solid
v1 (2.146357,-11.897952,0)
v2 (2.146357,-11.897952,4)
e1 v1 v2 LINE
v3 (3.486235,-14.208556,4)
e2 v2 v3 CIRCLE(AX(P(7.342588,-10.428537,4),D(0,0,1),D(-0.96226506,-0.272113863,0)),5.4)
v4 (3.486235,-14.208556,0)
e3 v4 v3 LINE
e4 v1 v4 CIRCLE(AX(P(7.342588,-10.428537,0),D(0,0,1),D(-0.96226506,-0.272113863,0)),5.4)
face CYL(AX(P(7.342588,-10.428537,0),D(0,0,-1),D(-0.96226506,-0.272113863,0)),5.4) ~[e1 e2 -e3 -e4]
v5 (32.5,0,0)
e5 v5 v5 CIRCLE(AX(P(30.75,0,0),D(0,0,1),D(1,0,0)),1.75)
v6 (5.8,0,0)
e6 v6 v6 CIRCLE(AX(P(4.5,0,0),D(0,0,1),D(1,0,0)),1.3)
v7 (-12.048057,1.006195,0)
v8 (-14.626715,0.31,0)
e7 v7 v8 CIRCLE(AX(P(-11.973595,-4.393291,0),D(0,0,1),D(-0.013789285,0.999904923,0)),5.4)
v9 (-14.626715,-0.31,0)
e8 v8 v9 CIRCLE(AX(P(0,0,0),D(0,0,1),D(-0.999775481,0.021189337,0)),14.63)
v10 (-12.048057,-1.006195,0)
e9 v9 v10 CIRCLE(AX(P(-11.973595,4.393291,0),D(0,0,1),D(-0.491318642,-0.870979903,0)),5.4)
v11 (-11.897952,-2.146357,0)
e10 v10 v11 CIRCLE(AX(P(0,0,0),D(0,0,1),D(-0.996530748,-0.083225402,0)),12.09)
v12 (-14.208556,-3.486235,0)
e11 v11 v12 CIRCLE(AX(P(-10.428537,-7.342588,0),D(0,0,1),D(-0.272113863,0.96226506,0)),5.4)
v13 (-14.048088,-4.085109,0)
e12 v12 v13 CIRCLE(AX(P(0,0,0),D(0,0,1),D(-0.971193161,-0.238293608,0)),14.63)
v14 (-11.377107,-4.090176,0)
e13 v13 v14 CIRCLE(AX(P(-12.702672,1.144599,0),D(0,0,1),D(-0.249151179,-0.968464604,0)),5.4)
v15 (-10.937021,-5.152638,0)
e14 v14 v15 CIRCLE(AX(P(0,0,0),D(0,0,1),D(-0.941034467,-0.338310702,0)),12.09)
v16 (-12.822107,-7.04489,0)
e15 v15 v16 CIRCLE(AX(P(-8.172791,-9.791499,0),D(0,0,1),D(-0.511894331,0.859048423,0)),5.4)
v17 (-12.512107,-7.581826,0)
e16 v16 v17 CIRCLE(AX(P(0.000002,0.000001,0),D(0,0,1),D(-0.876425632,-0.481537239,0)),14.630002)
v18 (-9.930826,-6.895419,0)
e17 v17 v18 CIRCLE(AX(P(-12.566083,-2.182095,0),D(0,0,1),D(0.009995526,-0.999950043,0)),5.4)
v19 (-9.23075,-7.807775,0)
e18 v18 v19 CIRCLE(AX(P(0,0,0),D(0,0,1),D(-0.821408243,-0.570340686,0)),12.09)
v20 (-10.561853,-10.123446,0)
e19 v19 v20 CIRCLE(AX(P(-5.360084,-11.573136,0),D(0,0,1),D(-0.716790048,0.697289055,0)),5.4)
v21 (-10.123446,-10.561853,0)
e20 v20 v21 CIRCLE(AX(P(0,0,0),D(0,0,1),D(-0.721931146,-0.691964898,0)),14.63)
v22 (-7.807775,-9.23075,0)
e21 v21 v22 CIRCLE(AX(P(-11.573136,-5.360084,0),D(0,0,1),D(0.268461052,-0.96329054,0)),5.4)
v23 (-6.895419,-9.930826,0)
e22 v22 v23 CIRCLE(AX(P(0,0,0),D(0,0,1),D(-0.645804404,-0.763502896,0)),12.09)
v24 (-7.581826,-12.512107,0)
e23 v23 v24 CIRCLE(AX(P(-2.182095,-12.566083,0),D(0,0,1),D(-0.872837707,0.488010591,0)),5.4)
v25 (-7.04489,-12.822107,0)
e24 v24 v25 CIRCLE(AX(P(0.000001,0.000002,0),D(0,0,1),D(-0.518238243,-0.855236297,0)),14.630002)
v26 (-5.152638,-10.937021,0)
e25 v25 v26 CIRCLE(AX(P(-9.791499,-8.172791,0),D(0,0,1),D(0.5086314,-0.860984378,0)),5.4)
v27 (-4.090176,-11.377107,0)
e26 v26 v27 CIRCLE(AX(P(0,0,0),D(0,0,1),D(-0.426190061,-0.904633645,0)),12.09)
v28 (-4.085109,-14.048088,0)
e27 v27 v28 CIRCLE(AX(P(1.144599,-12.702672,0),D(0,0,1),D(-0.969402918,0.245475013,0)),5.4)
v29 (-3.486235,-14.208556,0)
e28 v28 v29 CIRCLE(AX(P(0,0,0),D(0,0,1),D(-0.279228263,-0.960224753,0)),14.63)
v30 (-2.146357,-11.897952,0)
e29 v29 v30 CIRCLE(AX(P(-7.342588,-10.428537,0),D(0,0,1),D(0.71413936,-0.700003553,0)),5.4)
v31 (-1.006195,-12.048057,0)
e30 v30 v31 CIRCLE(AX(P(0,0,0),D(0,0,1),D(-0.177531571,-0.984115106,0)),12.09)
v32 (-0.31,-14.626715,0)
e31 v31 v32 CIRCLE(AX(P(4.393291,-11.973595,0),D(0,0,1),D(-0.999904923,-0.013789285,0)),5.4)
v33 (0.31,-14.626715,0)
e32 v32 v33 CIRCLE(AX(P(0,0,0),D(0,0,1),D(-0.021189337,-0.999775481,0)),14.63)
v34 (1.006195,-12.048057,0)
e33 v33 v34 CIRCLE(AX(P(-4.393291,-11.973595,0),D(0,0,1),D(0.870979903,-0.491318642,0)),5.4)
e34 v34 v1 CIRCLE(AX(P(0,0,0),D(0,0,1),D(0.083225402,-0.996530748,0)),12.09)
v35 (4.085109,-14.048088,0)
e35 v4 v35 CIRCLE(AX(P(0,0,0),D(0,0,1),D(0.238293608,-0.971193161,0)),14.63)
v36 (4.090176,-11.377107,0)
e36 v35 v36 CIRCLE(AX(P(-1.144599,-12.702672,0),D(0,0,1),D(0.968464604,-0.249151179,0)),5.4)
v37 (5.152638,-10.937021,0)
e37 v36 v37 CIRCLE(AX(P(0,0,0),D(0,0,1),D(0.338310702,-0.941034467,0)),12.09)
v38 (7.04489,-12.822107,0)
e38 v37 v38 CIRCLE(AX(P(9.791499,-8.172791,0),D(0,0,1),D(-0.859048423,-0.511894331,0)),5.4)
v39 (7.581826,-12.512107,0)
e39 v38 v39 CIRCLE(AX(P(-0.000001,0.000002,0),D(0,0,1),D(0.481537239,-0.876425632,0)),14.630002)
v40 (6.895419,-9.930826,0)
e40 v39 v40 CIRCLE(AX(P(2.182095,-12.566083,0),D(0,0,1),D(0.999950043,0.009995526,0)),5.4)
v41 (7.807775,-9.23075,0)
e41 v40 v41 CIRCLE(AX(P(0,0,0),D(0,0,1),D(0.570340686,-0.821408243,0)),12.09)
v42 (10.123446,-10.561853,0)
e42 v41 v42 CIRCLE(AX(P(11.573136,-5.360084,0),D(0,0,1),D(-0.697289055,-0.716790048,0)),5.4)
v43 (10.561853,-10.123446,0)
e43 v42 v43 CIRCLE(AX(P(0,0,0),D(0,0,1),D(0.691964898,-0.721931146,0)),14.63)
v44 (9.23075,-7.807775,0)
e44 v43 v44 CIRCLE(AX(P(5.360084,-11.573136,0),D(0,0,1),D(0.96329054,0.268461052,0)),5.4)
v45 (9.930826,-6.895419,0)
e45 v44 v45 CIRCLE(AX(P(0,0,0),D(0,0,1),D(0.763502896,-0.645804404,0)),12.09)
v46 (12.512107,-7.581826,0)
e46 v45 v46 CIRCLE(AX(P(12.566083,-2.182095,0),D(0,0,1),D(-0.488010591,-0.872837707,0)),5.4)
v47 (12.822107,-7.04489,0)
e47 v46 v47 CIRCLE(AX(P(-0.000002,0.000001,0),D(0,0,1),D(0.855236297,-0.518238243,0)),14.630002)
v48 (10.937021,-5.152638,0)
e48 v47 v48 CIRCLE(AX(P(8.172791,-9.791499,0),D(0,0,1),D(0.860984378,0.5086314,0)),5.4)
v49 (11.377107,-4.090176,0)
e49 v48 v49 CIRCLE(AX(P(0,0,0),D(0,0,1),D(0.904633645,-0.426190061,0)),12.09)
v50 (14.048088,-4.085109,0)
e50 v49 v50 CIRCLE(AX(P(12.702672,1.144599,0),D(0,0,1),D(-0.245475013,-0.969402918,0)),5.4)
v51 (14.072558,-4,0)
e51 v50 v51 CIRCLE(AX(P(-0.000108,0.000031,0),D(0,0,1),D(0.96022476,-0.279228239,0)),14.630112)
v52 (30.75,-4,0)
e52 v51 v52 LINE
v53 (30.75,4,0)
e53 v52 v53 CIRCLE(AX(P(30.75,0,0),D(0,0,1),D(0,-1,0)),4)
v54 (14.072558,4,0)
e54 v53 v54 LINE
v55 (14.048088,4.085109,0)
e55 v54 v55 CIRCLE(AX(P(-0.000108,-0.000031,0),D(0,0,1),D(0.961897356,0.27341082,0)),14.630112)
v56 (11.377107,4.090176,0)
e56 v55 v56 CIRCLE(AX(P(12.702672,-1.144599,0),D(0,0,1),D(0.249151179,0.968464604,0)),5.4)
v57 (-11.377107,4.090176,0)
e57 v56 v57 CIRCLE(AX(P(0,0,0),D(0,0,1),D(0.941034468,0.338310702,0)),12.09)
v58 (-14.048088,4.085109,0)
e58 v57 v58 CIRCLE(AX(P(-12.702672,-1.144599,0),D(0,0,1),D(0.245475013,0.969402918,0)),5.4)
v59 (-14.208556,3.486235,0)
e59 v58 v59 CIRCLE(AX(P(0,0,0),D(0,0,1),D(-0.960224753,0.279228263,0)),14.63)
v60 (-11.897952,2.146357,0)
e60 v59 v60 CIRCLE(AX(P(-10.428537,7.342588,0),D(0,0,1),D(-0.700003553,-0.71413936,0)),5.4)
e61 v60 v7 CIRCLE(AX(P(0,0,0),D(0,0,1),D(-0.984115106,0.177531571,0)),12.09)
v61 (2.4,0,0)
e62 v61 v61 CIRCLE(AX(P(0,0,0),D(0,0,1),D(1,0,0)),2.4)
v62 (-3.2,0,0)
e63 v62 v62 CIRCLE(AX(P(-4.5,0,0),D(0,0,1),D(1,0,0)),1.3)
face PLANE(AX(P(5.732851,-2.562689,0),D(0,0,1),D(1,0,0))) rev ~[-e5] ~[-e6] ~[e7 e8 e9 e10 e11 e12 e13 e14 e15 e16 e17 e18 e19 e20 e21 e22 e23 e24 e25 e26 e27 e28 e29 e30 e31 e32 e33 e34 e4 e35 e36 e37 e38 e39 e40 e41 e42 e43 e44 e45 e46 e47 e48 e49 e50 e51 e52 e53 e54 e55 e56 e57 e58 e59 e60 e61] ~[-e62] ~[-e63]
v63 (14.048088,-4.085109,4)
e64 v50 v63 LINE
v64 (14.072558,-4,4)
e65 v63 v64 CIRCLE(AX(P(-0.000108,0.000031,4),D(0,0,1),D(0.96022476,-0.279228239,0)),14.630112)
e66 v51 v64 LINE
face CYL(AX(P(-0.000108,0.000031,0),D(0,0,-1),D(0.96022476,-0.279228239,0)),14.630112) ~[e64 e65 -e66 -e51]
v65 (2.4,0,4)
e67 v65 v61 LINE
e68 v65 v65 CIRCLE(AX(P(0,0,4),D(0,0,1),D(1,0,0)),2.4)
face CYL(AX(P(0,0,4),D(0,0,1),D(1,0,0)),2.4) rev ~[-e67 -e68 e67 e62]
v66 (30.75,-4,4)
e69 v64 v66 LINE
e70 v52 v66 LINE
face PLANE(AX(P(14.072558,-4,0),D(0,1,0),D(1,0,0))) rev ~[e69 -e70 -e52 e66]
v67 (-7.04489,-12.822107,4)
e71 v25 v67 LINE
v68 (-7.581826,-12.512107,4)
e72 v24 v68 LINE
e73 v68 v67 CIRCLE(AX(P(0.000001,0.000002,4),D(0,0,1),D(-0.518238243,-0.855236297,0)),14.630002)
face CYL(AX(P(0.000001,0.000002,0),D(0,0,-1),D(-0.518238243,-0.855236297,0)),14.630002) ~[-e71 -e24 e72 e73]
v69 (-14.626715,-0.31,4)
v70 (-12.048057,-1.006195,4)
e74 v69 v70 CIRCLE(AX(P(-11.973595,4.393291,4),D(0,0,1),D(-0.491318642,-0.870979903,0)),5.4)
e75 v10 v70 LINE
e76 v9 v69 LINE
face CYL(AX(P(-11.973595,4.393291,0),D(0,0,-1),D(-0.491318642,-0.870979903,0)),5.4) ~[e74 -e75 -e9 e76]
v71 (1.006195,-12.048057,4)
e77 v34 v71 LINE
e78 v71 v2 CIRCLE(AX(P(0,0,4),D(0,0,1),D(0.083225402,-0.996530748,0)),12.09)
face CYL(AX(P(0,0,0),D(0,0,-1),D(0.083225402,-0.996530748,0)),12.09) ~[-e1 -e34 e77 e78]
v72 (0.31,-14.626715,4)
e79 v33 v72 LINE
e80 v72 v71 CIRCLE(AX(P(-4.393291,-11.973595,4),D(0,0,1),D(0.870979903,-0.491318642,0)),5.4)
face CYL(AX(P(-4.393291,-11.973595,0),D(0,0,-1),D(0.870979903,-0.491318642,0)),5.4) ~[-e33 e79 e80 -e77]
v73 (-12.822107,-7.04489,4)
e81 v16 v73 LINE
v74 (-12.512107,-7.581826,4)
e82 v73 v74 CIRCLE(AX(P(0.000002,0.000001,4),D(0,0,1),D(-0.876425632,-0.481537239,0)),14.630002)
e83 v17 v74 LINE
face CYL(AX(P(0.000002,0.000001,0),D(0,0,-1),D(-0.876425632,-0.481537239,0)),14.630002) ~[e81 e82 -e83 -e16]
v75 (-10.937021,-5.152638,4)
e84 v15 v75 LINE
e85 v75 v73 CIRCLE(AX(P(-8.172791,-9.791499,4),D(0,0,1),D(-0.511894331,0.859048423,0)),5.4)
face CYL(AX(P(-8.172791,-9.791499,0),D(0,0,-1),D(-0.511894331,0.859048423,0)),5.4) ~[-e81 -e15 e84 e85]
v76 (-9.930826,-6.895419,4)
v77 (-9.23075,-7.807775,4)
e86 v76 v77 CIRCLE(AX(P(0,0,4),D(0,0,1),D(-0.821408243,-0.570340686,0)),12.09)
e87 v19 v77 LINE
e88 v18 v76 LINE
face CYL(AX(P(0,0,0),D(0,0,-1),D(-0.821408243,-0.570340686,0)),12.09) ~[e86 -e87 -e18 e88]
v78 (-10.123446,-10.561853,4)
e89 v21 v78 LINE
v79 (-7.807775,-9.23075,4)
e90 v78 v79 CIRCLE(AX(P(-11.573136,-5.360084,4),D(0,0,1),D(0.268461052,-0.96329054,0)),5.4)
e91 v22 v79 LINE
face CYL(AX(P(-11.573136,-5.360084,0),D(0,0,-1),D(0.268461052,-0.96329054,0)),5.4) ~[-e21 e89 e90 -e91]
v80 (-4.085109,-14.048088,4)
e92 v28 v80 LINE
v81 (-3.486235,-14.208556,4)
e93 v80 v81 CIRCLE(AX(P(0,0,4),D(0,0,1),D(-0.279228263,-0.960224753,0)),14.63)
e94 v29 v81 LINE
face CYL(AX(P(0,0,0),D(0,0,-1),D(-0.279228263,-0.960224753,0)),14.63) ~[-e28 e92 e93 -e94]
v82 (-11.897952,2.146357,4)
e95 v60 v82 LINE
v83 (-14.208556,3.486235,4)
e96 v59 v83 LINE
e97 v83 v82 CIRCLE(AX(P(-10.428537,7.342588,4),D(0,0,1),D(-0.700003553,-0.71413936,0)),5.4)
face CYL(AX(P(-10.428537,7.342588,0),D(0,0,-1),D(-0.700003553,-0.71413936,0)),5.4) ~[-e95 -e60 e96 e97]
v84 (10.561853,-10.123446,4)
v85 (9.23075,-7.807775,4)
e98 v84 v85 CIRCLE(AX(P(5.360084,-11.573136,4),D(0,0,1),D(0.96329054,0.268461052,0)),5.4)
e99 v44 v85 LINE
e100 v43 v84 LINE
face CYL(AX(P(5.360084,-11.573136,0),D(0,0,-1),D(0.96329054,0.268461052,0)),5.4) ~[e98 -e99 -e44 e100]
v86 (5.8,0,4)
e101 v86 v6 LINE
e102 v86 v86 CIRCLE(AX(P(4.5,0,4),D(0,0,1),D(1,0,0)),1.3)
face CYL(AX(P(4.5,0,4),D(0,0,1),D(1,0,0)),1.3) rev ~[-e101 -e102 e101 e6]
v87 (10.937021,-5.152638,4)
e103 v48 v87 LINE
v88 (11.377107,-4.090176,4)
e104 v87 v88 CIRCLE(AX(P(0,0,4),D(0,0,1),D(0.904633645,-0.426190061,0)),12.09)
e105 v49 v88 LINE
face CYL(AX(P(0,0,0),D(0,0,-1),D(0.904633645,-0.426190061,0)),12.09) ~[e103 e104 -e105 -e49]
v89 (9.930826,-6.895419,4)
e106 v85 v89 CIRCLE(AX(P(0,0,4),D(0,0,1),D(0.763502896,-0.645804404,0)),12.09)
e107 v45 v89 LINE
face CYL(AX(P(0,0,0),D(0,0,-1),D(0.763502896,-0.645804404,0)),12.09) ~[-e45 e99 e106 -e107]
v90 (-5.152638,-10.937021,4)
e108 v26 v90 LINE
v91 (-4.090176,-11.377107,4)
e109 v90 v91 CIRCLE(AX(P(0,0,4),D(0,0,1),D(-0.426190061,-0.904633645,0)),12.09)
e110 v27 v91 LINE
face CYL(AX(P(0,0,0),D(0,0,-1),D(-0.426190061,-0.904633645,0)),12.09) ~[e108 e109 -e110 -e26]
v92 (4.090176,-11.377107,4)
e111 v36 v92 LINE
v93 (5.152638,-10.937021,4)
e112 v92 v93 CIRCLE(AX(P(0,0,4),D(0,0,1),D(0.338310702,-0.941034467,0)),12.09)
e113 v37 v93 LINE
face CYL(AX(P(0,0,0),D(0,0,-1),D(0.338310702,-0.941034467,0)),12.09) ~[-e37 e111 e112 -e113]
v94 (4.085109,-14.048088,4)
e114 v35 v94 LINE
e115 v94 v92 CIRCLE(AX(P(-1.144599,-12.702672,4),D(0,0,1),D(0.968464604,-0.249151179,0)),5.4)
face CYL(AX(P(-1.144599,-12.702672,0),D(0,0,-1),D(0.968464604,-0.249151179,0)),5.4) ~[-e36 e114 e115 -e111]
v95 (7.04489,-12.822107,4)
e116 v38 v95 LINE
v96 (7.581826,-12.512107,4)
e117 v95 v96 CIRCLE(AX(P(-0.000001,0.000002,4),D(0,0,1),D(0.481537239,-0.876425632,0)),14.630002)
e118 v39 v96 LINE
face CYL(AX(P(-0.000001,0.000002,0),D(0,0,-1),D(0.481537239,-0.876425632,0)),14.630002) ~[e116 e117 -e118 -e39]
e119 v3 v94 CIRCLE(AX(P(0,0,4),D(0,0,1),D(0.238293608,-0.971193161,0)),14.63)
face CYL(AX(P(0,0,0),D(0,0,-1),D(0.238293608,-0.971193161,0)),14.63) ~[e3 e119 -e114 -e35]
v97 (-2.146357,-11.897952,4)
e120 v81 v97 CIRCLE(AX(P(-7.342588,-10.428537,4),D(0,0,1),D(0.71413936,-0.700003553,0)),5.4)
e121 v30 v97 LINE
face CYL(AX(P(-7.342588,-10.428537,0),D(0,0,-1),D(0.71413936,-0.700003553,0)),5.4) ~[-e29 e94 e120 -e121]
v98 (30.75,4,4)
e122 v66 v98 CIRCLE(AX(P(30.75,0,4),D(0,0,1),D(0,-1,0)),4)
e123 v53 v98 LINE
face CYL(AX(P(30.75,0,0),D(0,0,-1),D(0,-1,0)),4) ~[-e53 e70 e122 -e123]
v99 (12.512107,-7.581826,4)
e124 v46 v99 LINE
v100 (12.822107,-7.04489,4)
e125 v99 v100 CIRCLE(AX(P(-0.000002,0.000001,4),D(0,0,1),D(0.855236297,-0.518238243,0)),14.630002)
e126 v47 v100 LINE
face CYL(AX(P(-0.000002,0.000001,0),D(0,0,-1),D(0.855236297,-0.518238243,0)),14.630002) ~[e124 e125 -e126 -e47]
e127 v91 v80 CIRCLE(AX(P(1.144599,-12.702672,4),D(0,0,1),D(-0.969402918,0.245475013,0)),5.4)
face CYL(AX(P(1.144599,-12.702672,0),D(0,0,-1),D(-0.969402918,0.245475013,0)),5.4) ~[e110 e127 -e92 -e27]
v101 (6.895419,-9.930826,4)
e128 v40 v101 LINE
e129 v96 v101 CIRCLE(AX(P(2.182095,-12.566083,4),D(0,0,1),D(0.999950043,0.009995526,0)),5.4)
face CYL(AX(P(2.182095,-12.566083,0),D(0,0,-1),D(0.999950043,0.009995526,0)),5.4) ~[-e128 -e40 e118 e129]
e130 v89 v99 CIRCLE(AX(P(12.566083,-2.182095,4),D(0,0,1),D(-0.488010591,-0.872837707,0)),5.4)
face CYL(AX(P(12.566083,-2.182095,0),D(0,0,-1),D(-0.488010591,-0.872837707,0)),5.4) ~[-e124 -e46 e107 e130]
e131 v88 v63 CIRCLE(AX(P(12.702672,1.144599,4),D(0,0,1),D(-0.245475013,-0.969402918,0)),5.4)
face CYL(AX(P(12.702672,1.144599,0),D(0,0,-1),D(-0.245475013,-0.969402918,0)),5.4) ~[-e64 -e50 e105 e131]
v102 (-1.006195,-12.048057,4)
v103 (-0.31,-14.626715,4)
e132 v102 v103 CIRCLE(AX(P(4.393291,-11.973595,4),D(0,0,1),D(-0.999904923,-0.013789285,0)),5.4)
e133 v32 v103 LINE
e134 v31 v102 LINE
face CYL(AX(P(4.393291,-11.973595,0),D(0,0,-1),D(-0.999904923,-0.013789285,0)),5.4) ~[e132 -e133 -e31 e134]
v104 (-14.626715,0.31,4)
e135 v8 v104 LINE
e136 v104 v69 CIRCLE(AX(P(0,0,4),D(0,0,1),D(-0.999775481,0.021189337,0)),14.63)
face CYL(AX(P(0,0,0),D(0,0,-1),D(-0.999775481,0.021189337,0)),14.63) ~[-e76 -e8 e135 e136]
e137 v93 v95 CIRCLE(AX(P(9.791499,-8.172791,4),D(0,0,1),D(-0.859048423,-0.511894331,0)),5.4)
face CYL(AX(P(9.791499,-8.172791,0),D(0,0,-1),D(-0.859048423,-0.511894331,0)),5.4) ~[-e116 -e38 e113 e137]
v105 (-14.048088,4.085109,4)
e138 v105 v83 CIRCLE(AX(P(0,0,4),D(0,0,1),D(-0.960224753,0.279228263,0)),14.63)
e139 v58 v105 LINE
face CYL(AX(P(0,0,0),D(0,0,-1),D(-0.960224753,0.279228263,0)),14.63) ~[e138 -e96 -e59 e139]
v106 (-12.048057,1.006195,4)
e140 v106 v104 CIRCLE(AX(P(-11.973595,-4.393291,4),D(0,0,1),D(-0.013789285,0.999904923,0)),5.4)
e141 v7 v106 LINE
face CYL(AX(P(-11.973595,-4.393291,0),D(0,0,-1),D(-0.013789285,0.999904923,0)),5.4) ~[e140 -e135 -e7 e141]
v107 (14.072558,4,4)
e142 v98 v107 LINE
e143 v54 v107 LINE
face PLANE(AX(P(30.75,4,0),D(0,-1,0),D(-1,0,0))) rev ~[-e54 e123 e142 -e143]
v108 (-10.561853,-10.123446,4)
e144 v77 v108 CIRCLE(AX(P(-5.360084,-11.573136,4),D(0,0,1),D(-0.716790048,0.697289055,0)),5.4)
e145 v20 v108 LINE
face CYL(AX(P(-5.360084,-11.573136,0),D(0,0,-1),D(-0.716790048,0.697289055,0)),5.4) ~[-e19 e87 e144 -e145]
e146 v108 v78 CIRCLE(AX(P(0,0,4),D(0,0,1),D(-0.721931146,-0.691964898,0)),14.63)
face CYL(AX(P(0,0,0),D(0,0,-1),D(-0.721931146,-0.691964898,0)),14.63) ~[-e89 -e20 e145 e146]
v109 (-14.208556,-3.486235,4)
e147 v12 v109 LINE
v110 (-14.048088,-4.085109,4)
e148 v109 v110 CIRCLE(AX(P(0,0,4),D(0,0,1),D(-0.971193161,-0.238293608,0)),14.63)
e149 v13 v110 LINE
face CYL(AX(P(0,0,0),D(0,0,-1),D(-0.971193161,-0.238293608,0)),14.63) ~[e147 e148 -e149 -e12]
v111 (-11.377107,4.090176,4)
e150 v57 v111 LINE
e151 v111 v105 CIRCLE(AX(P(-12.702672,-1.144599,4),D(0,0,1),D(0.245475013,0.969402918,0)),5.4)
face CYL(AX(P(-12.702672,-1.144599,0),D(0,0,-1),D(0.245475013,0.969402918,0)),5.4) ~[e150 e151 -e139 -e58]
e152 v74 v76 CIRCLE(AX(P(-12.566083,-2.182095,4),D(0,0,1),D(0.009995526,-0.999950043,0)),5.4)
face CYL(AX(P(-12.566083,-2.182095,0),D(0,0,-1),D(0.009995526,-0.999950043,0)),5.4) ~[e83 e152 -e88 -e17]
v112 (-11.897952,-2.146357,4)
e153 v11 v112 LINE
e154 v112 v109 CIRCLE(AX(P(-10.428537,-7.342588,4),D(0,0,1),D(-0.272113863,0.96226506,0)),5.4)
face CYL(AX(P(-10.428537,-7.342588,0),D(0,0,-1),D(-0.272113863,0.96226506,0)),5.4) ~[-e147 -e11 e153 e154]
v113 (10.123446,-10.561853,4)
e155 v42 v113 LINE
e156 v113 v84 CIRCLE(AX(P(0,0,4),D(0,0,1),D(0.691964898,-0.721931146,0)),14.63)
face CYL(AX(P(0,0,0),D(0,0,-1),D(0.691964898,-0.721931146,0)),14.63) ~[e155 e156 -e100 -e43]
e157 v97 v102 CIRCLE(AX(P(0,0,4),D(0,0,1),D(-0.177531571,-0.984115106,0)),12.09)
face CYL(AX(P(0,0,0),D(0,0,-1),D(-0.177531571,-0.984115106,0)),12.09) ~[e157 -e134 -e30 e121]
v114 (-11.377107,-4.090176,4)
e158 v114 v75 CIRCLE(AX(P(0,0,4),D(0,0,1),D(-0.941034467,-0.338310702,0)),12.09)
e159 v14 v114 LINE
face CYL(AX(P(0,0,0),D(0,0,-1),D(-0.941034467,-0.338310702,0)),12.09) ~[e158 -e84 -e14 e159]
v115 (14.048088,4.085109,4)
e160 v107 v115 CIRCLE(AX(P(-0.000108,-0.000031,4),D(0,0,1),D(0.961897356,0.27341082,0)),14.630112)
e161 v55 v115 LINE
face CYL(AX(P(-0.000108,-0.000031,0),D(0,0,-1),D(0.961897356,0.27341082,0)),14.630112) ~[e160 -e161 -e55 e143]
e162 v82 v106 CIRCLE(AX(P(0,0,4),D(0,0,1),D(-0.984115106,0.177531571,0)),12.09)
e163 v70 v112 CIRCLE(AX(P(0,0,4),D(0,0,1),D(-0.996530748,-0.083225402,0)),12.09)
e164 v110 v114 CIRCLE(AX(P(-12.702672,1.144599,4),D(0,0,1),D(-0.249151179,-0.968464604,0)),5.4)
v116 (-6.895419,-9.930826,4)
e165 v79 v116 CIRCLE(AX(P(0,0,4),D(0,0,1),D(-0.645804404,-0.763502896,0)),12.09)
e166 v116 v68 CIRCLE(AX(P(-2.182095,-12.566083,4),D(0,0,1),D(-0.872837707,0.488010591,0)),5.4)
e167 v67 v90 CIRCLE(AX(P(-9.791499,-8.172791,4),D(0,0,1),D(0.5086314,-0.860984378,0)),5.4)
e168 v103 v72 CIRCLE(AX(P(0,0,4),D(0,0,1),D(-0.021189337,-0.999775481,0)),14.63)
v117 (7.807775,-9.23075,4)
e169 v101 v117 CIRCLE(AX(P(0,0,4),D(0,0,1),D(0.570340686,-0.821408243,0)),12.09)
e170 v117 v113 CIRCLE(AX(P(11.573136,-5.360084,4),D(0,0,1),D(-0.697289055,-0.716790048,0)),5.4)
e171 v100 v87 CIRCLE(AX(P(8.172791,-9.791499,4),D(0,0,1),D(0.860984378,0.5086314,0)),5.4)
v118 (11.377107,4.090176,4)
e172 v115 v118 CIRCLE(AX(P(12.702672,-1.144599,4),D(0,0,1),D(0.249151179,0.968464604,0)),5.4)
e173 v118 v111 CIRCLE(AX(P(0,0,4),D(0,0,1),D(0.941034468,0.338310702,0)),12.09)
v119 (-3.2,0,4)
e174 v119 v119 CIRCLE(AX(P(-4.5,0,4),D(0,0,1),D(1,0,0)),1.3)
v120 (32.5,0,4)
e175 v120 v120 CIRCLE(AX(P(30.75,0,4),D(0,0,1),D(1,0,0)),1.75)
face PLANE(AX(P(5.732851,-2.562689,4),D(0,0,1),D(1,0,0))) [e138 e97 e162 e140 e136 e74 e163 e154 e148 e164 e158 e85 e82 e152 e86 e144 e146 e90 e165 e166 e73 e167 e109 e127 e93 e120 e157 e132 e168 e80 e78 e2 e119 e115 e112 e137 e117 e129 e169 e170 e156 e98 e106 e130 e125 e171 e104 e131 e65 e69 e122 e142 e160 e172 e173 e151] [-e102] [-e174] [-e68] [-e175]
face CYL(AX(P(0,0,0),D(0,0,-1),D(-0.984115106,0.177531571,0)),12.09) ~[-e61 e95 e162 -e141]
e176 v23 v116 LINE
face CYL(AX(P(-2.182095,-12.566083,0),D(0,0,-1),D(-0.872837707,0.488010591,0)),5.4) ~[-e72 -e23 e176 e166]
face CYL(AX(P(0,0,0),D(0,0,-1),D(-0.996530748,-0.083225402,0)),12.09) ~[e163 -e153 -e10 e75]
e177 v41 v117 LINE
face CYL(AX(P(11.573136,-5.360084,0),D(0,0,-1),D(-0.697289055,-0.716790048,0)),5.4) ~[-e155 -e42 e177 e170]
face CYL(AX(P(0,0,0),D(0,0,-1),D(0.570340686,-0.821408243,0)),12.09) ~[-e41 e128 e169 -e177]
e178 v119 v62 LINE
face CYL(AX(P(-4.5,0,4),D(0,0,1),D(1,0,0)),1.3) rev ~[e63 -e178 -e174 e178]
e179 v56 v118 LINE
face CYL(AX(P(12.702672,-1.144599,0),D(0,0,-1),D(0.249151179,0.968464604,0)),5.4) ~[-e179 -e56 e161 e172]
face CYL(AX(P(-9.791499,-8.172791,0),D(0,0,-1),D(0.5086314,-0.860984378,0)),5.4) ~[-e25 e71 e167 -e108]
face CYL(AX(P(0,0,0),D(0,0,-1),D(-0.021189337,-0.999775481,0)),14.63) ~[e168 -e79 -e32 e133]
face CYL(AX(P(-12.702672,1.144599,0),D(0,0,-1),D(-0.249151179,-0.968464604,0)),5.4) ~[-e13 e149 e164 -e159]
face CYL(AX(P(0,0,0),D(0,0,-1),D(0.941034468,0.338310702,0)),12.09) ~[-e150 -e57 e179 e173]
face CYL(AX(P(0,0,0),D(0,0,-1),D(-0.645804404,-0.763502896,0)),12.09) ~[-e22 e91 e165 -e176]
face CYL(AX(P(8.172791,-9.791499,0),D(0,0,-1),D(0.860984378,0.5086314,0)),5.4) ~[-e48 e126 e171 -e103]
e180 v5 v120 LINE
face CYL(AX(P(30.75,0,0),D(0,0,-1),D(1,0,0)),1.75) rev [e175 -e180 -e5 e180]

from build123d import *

# Parameters (mm, degrees)
SKETCH1_R           = 1.75
BOSS_EXTRUDE1_DEPTH = 4
SKETCH6_R           = 1.3
SKETCH6_R_2         = 2.4
CUT_EXTRUDE1_DEPTH  = 38.915688046


with BuildPart() as part:
    # Sketch1 → Boss-Extrude1 (new body)
    with BuildSketch(Plane.XY):
        with BuildLine():
            ThreePointArc((14.048088143, -4.085109489), (14.06038767, -4.04257326), (14.072558403, -4))
            Line((14.072558403, -4), (30.75, -4))
            ThreePointArc((30.75, -4), (34.75, 0), (30.75, 4))
            Line((30.75, 4), (14.072558403, 4))
            ThreePointArc((14.072558403, 4), (14.06038767, 4.04257326), (14.048088143, 4.085109489))
            ThreePointArc((14.048088143, 4.085109489), (12.712915648, 4.255390909), (11.377106712, 4.090176385))
            ThreePointArc((11.377106712, 4.090176385), (0, 12.09), (-11.377106712, 4.090176385))
            ThreePointArc((-11.377106712, 4.090176385), (-12.712915648, 4.255390909), (-14.048088143, 4.085109489))
            ThreePointArc((-14.048088143, 4.085109489), (-14.131494839, 3.78652263), (-14.208555951, 3.486235477))
            ThreePointArc((-14.208555951, 3.486235477), (-13.137403362, 2.671181194), (-11.897951627, 2.1463567))
            ThreePointArc((-11.897951627, 2.1463567), (-11.986568374, 1.578061664), (-12.048056748, 1.00619511))
            ThreePointArc((-12.048056748, 1.00619511), (-13.381109763, 0.820047291), (-14.626715284, 0.31))
            ThreePointArc((-14.626715284, 0.31), (-14.63, 0), (-14.626715284, -0.31))
            ThreePointArc((-14.626715284, -0.31), (-13.381109763, -0.820047291), (-12.048056748, -1.00619511))
            ThreePointArc((-12.048056748, -1.00619511), (-11.986568374, -1.578061664), (-11.897951627, -2.1463567))
            ThreePointArc((-11.897951627, -2.1463567), (-13.137403362, -2.671181194), (-14.208555951, -3.486235477))
            ThreePointArc((-14.208555951, -3.486235477), (-14.131494839, -3.78652263), (-14.048088143, -4.085109489))
            ThreePointArc((-14.048088143, -4.085109489), (-12.712915648, -4.255390909), (-11.377106712, -4.090176385))
            ThreePointArc((-11.377106712, -4.090176385), (-11.169703548, -4.626642697), (-10.937020765, -5.152637848))
            ThreePointArc((-10.937020765, -5.152637848), (-11.998404632, -5.980373095), (-12.82210701, -7.044889767))
            ThreePointArc((-12.82210701, -7.044889767), (-12.669951657, -7.315), (-12.51210701, -7.581825517))
            ThreePointArc((-12.51210701, -7.581825517), (-11.17835734, -7.400736668), (-9.930825655, -6.8954189))
            ThreePointArc((-9.930825655, -6.8954189), (-9.591641884, -7.359925677), (-9.230750012, -7.807775241))
            ThreePointArc((-9.230750012, -7.807775241), (-10.041734454, -8.882012453), (-10.561852666, -10.123446462))
            ThreePointArc((-10.561852666, -10.123446462), (-10.344972209, -10.344972209), (-10.123446462, -10.561852666))
            ThreePointArc((-10.123446462, -10.561852666), (-8.882012453, -10.041734454), (-7.807775241, -9.230750012))
            ThreePointArc((-7.807775241, -9.230750012), (-7.359925677, -9.591641884), (-6.8954189, -9.930825655))
            ThreePointArc((-6.8954189, -9.930825655), (-7.400736668, -11.17835734), (-7.581825517, -12.51210701))
            ThreePointArc((-7.581825517, -12.51210701), (-7.315, -12.669951657), (-7.044889767, -12.82210701))
            ThreePointArc((-7.044889767, -12.82210701), (-5.980373095, -11.998404632), (-5.152637848, -10.937020765))
            ThreePointArc((-5.152637848, -10.937020765), (-4.626642697, -11.169703548), (-4.090176385, -11.377106712))
            ThreePointArc((-4.090176385, -11.377106712), (-4.255390909, -12.712915648), (-4.085109489, -14.048088143))
            ThreePointArc((-4.085109489, -14.048088143), (-3.78652263, -14.131494839), (-3.486235477, -14.208555951))
            ThreePointArc((-3.486235477, -14.208555951), (-2.671181194, -13.137403362), (-2.1463567, -11.897951627))
            ThreePointArc((-2.1463567, -11.897951627), (-1.578061664, -11.986568374), (-1.00619511, -12.048056748))
            ThreePointArc((-1.00619511, -12.048056748), (-0.820047291, -13.381109763), (-0.31, -14.626715284))
            ThreePointArc((-0.31, -14.626715284), (0, -14.63), (0.31, -14.626715284))
            ThreePointArc((0.31, -14.626715284), (0.820047291, -13.381109763), (1.00619511, -12.048056748))
            ThreePointArc((1.00619511, -12.048056748), (1.578061664, -11.986568374), (2.1463567, -11.897951627))
            ThreePointArc((2.1463567, -11.897951627), (2.671181194, -13.137403362), (3.486235477, -14.208555951))
            ThreePointArc((3.486235477, -14.208555951), (3.78652263, -14.131494839), (4.085109489, -14.048088143))
            ThreePointArc((4.085109489, -14.048088143), (4.255390909, -12.712915648), (4.090176385, -11.377106712))
            ThreePointArc((4.090176385, -11.377106712), (4.626642697, -11.169703548), (5.152637848, -10.937020765))
            ThreePointArc((5.152637848, -10.937020765), (5.980373095, -11.998404632), (7.044889767, -12.82210701))
            ThreePointArc((7.044889767, -12.82210701), (7.315, -12.669951657), (7.581825517, -12.51210701))
            ThreePointArc((7.581825517, -12.51210701), (7.400736668, -11.17835734), (6.8954189, -9.930825655))
            ThreePointArc((6.8954189, -9.930825655), (7.359925677, -9.591641884), (7.807775241, -9.230750012))
            ThreePointArc((7.807775241, -9.230750012), (8.882012453, -10.041734454), (10.123446462, -10.561852666))
            ThreePointArc((10.123446462, -10.561852666), (10.344972209, -10.344972209), (10.561852666, -10.123446462))
            ThreePointArc((10.561852666, -10.123446462), (10.041734454, -8.882012453), (9.230750012, -7.807775241))
            ThreePointArc((9.230750012, -7.807775241), (9.591641884, -7.359925677), (9.930825655, -6.8954189))
            ThreePointArc((9.930825655, -6.8954189), (11.17835734, -7.400736668), (12.51210701, -7.581825517))
            ThreePointArc((12.51210701, -7.581825517), (12.669951657, -7.315), (12.82210701, -7.044889767))
            ThreePointArc((12.82210701, -7.044889767), (11.998404632, -5.980373095), (10.937020765, -5.152637848))
            ThreePointArc((10.937020765, -5.152637848), (11.169703548, -4.626642697), (11.377106712, -4.090176385))
            ThreePointArc((11.377106712, -4.090176385), (12.712915648, -4.255390909), (14.048088143, -4.085109489))
        make_face()
        Circle(SKETCH1_R, mode=Mode.SUBTRACT)
        with Locations((30.75, 0)):
            Circle(SKETCH1_R, mode=Mode.SUBTRACT)
    extrude(amount=BOSS_EXTRUDE1_DEPTH)

    # Sketch6 → Cut-Extrude1 (cut, through all)
    with BuildSketch(Plane.XY.offset(4)):
        with Locations((4.5, 0)):
            Circle(SKETCH6_R)
        with Locations((-4.5, 0)):
            Circle(SKETCH6_R)
        Circle(SKETCH6_R_2)
    extrude(amount=-CUT_EXTRUDE1_DEPTH, mode=Mode.SUBTRACT)


solid = part.part
